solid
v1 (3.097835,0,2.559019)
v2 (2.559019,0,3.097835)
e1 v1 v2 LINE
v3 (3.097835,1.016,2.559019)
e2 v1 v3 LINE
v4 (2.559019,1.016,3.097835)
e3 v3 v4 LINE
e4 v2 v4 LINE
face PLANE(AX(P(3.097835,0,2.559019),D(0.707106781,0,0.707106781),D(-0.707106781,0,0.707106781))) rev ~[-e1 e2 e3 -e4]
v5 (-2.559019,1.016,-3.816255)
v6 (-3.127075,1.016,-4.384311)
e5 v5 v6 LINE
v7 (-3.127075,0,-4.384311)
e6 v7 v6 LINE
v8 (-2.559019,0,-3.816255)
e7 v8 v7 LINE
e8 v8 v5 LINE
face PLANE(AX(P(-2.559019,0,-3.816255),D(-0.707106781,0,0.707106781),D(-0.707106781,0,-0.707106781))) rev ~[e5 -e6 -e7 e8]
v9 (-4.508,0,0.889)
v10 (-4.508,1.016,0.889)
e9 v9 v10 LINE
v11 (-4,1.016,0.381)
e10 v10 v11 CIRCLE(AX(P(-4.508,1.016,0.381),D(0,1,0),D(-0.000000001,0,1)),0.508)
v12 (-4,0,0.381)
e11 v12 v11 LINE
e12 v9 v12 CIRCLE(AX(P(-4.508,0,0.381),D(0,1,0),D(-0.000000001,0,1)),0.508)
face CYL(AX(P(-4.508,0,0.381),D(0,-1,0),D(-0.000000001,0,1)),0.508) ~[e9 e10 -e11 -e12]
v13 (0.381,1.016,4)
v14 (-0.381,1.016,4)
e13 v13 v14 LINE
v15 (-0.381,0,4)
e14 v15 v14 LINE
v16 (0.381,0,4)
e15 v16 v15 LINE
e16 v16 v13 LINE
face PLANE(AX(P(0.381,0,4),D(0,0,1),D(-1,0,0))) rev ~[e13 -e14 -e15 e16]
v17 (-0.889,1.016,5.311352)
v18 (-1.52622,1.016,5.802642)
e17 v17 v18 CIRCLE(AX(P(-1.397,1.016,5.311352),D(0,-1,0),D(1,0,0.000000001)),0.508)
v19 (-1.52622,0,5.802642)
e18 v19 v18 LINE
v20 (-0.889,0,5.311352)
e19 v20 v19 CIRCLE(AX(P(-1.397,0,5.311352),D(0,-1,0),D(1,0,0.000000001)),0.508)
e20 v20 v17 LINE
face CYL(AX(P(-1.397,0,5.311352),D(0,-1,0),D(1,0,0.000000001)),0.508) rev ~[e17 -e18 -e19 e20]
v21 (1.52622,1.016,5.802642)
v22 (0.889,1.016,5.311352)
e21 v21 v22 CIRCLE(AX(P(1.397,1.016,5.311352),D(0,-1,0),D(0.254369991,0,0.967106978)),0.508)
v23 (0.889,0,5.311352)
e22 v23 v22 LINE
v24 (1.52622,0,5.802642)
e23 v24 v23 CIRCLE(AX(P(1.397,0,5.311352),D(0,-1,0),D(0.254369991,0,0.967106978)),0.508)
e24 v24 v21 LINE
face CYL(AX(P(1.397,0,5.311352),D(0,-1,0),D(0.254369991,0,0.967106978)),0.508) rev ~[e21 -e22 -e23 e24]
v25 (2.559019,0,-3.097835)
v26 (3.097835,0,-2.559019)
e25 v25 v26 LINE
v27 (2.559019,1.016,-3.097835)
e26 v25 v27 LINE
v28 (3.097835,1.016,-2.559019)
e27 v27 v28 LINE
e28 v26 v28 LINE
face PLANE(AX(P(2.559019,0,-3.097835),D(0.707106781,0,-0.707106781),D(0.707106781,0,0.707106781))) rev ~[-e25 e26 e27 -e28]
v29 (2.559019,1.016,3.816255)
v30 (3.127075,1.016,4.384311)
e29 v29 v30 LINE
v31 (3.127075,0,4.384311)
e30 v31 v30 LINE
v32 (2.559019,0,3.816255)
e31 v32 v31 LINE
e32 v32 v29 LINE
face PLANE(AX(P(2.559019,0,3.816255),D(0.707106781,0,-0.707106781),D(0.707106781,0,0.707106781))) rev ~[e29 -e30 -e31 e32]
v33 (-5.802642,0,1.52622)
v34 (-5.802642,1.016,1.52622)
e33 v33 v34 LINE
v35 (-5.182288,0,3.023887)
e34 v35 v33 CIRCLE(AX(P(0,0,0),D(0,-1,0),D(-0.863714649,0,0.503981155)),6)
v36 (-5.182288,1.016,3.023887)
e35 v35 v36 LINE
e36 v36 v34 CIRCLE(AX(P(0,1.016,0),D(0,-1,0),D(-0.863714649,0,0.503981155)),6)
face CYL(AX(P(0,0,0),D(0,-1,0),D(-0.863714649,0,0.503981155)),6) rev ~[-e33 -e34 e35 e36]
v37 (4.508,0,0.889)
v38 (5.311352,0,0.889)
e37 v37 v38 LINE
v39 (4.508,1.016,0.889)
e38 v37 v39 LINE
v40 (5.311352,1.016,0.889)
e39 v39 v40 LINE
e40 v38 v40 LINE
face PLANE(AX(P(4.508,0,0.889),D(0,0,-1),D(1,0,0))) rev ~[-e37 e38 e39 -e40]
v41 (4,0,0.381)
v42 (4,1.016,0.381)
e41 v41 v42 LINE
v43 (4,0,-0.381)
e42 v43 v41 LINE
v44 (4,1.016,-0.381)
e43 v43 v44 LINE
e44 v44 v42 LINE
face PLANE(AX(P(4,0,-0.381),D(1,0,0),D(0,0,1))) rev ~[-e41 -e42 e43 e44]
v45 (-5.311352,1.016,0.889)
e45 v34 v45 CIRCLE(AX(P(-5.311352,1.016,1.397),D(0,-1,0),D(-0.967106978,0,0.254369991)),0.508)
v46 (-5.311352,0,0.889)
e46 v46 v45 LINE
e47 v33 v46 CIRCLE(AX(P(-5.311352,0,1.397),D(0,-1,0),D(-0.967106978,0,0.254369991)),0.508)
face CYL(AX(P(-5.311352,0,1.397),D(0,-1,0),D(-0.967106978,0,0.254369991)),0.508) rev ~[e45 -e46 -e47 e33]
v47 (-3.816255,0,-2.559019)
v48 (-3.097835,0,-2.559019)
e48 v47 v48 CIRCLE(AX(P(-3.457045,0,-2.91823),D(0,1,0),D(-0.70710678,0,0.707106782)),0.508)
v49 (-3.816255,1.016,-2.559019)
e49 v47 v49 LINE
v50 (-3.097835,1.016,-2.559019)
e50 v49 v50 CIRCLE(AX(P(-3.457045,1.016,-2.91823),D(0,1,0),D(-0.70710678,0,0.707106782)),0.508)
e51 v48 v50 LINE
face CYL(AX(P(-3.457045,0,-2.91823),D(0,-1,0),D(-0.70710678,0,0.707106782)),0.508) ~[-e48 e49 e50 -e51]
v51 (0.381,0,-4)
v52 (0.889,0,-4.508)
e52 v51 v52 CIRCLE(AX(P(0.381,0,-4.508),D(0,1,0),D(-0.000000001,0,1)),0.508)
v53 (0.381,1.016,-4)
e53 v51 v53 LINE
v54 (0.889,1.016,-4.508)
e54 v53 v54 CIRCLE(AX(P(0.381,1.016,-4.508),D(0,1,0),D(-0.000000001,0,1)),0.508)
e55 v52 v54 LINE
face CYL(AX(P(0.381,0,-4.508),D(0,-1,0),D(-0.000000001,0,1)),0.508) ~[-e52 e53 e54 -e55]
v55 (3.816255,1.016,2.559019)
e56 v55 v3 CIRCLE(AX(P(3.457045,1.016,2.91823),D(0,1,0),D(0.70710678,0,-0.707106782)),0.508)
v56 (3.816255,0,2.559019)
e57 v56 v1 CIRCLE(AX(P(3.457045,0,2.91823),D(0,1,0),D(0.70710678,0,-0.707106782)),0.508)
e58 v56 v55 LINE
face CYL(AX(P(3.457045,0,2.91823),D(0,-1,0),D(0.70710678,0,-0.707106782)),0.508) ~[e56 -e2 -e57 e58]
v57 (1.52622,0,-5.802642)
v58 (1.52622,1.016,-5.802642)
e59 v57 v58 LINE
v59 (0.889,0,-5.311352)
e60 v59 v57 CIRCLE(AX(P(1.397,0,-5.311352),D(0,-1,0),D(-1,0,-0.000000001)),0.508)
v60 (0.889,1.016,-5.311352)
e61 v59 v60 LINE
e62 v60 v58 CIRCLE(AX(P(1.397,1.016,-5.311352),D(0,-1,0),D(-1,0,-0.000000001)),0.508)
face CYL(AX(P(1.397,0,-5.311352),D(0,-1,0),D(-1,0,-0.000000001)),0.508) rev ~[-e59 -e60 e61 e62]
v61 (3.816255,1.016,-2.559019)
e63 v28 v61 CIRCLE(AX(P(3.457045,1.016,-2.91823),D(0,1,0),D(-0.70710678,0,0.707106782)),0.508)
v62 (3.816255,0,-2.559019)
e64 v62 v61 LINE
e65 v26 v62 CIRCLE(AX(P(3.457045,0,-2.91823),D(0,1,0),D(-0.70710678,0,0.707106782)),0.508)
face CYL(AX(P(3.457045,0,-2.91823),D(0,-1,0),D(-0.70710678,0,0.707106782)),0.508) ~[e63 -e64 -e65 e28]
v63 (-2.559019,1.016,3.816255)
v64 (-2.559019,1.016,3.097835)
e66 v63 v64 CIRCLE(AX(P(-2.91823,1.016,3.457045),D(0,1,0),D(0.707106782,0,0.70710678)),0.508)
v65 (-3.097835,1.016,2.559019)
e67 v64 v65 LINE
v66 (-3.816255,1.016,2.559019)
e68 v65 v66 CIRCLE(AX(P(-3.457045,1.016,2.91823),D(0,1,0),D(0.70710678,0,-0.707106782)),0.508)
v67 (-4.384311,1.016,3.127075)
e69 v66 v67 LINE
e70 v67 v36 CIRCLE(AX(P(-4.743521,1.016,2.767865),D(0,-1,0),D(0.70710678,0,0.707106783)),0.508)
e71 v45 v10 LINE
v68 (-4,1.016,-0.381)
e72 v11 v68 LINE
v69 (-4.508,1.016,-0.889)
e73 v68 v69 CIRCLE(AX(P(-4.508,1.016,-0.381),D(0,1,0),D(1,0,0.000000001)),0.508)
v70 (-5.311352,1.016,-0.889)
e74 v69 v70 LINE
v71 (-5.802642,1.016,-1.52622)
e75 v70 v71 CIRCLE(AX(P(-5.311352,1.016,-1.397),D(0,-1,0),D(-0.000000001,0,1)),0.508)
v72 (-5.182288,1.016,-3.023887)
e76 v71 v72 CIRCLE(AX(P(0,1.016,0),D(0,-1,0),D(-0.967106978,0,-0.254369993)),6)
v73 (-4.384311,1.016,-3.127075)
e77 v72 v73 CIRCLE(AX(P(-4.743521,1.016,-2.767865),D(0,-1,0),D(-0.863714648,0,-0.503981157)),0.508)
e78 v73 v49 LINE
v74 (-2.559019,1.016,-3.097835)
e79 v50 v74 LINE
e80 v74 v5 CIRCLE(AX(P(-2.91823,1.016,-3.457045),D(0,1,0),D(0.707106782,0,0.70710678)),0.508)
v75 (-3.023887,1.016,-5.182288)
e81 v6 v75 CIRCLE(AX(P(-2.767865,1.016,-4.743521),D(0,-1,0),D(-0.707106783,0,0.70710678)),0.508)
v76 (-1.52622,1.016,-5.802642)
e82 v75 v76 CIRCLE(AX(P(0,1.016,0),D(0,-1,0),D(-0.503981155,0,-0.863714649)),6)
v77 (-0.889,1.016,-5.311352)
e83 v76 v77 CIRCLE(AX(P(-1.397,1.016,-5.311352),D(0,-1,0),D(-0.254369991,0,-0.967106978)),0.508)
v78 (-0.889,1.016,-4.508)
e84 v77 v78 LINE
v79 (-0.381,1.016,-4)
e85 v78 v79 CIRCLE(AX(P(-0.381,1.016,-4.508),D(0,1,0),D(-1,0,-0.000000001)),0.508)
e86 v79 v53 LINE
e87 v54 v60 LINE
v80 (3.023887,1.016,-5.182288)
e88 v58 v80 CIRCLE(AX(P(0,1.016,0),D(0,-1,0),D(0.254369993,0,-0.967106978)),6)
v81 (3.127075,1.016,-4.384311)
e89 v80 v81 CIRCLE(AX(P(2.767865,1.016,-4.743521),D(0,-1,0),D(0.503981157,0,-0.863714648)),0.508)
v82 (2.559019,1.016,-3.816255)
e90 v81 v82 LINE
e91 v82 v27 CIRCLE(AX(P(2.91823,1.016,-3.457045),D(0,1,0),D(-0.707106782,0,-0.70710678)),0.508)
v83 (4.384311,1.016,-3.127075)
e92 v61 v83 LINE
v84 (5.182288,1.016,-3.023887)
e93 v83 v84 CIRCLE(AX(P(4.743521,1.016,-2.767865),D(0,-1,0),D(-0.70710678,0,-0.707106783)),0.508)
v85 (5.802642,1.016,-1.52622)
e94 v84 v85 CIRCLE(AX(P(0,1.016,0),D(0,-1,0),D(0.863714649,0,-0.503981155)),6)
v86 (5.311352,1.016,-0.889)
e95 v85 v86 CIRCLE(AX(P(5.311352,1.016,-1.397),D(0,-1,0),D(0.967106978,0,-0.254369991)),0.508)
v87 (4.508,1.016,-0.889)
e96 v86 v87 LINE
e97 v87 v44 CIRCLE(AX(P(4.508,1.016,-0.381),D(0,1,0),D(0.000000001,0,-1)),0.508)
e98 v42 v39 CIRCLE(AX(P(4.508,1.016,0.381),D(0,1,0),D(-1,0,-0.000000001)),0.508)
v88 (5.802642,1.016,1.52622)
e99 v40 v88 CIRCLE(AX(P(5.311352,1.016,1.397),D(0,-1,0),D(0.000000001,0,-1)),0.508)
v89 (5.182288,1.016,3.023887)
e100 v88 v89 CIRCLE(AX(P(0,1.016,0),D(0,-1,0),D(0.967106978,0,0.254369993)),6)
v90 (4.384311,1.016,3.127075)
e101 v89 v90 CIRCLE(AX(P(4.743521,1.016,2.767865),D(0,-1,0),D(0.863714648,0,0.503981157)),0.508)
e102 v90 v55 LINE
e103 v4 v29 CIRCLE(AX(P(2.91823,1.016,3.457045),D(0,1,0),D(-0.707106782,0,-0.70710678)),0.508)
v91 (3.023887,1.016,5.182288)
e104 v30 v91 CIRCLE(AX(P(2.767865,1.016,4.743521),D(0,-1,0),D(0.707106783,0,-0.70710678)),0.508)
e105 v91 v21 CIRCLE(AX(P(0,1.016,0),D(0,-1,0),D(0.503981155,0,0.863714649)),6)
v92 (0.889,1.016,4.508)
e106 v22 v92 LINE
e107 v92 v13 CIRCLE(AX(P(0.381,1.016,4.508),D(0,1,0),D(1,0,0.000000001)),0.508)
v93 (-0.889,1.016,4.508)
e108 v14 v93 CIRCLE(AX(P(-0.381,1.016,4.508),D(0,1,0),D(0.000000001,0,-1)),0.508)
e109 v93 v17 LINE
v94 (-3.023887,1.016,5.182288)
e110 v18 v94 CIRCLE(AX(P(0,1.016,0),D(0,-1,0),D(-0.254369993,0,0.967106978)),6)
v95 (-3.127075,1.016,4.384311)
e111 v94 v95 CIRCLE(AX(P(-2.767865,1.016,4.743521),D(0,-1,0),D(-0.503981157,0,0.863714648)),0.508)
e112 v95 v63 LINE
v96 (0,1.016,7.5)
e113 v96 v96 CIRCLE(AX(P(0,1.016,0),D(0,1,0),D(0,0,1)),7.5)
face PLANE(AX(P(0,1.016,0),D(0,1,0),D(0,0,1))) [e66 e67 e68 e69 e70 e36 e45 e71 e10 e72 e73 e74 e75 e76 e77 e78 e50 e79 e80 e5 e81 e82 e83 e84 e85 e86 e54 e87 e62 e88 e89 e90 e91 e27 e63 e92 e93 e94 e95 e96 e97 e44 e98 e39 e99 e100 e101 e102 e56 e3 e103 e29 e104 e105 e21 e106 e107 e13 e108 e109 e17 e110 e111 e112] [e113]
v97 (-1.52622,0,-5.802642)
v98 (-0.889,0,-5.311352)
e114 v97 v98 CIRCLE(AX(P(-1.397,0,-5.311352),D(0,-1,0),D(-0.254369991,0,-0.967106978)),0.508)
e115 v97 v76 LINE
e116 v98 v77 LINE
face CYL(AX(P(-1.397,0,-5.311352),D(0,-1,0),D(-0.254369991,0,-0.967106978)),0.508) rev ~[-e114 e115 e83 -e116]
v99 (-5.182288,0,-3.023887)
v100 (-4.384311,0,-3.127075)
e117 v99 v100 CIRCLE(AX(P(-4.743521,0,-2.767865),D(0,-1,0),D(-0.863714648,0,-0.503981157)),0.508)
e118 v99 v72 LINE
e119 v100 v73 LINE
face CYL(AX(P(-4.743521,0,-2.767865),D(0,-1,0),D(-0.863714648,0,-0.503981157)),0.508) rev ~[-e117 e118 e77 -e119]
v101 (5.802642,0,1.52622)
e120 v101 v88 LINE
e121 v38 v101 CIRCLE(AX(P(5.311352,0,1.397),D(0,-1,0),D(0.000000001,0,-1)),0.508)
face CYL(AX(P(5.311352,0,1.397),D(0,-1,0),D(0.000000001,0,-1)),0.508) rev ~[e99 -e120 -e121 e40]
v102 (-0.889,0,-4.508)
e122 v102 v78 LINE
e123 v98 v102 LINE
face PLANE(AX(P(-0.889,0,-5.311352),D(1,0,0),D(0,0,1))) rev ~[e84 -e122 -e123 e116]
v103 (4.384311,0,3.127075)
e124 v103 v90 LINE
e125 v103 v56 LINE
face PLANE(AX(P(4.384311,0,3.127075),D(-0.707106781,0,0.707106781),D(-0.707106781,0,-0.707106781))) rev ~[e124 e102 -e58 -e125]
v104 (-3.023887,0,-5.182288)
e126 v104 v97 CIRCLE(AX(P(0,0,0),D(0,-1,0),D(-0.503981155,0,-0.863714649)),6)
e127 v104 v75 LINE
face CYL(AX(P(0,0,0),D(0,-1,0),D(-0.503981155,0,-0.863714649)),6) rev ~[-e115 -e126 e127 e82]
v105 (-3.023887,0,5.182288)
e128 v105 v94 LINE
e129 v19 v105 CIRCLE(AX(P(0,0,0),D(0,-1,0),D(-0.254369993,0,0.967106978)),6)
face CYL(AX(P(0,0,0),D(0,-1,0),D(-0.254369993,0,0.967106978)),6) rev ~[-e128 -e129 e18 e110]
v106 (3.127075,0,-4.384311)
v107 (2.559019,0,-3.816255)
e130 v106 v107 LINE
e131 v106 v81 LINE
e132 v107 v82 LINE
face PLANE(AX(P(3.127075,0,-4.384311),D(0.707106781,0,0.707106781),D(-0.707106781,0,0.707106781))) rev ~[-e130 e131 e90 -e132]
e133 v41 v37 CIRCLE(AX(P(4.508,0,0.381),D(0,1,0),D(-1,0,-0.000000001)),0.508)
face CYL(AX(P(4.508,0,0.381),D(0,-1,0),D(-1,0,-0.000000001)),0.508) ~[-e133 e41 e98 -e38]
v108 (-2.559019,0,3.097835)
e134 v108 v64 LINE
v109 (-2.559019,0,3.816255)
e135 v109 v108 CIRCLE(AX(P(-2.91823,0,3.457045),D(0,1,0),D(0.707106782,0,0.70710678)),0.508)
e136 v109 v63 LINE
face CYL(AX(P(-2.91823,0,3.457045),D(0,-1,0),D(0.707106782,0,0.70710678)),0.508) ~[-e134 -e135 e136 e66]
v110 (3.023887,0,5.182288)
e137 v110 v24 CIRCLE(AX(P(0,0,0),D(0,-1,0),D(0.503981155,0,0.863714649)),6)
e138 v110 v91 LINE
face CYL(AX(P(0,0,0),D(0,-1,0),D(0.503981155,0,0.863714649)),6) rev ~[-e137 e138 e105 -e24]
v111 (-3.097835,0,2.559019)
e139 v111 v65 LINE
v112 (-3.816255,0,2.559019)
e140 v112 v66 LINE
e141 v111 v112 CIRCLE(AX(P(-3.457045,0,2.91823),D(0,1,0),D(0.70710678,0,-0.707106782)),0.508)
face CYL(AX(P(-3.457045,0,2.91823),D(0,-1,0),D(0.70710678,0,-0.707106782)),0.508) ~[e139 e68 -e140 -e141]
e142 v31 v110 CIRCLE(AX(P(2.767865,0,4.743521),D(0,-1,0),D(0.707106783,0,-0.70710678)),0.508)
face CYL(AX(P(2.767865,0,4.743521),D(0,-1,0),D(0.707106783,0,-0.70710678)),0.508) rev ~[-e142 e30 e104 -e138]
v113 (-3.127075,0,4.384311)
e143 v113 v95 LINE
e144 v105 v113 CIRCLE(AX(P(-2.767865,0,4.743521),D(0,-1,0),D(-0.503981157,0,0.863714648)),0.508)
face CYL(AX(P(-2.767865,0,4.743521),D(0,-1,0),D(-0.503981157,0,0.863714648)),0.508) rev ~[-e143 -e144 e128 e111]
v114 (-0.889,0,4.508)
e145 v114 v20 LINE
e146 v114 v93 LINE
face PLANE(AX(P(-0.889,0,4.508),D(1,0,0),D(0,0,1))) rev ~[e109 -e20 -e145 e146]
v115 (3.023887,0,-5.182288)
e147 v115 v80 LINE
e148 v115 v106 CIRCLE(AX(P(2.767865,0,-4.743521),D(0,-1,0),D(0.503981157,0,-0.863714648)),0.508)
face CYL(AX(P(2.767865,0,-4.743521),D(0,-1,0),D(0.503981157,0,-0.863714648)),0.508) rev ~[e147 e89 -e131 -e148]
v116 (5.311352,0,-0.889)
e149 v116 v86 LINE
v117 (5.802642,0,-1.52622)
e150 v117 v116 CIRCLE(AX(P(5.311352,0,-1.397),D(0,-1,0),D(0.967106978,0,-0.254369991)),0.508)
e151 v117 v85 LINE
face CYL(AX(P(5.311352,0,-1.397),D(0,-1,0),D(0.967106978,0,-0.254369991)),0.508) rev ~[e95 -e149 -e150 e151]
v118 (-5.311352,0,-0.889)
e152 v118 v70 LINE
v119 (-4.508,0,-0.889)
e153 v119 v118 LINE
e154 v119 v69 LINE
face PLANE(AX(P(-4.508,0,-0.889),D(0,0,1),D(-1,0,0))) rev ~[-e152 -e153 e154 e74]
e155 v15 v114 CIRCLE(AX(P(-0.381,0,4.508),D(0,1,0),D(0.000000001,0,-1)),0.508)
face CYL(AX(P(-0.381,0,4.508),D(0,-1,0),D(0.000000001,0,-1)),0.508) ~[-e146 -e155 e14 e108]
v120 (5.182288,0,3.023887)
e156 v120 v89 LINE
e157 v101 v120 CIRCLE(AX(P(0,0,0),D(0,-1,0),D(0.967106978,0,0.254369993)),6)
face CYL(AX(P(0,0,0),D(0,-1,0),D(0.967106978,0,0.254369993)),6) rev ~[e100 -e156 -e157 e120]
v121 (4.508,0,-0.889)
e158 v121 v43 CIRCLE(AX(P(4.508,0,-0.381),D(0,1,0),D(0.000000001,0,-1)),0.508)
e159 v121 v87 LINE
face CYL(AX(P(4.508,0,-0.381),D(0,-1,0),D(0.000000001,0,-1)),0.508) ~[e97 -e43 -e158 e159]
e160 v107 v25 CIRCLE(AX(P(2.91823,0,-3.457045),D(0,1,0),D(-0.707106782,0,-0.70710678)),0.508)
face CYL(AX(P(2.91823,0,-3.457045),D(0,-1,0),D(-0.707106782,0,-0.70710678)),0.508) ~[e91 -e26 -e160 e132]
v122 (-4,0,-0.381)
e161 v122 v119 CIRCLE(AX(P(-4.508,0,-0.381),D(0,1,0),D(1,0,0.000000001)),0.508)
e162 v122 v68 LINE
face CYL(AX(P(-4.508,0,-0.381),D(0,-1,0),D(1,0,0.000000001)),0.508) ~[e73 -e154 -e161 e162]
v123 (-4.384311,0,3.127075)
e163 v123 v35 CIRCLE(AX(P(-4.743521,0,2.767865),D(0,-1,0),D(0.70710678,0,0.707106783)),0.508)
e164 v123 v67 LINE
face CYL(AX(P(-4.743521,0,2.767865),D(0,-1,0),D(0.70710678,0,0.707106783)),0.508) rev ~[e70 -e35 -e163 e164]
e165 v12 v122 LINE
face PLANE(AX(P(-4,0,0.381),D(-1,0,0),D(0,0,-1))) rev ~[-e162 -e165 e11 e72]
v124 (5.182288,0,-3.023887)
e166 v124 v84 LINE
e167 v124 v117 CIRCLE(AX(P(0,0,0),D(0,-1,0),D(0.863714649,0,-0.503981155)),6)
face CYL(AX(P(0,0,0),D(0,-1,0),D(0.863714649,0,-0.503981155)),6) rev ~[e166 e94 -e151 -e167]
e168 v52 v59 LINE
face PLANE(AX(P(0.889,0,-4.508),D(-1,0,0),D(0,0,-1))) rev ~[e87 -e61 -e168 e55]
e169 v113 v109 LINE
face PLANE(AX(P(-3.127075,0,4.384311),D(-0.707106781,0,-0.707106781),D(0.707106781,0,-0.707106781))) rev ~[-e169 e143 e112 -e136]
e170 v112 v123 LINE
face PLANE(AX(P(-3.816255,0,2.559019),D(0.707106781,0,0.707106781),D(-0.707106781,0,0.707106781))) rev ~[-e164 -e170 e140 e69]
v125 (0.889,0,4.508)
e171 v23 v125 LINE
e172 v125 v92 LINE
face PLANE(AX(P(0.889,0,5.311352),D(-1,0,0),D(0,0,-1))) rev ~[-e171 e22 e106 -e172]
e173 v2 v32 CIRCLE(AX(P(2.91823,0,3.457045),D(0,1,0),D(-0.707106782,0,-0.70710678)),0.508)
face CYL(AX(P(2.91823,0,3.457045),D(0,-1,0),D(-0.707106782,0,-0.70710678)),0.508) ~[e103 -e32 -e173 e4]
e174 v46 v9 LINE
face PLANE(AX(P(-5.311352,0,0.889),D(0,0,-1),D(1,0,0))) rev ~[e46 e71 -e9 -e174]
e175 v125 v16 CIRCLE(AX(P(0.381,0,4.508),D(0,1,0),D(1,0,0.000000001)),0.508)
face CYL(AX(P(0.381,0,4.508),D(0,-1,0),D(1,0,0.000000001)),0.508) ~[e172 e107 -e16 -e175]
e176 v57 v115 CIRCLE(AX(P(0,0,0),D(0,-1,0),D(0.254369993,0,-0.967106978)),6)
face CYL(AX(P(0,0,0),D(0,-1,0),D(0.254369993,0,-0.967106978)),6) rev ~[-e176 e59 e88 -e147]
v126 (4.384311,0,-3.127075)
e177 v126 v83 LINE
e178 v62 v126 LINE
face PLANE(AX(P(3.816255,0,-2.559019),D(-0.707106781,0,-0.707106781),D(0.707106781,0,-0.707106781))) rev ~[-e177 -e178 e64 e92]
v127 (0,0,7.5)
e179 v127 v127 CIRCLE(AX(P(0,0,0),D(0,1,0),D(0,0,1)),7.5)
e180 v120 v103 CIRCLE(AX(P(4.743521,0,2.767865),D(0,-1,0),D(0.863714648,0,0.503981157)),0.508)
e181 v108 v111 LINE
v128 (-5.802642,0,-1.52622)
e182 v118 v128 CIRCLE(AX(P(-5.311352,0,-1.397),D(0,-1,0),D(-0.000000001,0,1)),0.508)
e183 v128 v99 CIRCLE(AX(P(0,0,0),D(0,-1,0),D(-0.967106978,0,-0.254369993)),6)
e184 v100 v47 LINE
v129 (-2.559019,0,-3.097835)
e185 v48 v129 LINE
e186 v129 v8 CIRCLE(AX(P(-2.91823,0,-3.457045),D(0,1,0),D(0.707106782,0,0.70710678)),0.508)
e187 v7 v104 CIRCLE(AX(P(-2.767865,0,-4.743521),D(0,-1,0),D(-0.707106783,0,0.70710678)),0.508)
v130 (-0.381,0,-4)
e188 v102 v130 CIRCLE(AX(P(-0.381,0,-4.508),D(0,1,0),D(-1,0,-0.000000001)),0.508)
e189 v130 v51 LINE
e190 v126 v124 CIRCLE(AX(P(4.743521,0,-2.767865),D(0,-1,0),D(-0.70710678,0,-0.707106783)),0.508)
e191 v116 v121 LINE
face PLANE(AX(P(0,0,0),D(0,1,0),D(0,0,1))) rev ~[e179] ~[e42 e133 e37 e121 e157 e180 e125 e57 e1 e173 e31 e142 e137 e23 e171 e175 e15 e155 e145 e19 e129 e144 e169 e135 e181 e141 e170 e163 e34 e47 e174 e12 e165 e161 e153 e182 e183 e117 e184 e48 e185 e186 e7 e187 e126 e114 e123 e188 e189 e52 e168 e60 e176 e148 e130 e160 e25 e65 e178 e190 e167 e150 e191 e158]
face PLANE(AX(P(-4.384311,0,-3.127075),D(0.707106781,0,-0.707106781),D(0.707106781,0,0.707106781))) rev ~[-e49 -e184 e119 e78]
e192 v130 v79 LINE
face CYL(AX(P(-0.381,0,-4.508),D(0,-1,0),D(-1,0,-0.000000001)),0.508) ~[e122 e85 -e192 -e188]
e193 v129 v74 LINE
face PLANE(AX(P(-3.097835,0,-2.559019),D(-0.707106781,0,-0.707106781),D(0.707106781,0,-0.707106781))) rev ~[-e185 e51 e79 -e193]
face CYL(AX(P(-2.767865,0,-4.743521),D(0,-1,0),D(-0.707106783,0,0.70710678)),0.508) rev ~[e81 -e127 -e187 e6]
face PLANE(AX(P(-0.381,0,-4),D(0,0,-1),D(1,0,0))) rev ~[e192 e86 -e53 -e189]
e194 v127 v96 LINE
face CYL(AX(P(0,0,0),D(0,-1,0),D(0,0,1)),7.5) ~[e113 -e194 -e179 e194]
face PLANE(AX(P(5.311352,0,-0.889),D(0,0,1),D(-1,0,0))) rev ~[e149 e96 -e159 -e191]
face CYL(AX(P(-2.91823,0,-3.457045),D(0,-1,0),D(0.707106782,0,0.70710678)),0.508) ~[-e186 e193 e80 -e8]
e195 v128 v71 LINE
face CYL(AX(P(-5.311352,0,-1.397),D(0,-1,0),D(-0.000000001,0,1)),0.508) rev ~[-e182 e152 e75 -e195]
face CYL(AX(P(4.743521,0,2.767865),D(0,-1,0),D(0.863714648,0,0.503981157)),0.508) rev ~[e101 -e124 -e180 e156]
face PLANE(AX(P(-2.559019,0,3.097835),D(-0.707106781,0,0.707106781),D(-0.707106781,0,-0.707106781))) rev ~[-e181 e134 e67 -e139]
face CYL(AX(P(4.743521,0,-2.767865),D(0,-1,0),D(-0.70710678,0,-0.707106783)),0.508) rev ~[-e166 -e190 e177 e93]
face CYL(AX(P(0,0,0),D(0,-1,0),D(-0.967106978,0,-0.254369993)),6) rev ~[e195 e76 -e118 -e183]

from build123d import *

# Parameters (mm, degrees)
SKETCH1_R           = 7.5
BOSS_EXTRUDE1_DEPTH = 1.016


with BuildPart() as part:
    # Sketch1 → Boss-Extrude1 (new body)
    with BuildSketch(Plane(origin=(0, 0, 0), x_dir=(1, 0, 0), z_dir=(0, 1, 0))):
        with Locations(Location((0, 0, 0), (0, 0, 270))):
            Circle(SKETCH1_R)
        with BuildLine():
            Line((-0.889, 5.311351523), (-0.889, 4.508))
            ThreePointArc((-0.889, 4.508), (-0.740210245, 4.148789755), (-0.381, 4))
            Line((-0.381, 4), (0.381, 4))
            ThreePointArc((0.381, 4), (0.740210245, 4.148789755), (0.889, 4.508))
            Line((0.889, 4.508), (0.889, 5.311351523))
            ThreePointArc((0.889, 5.311351523), (1.08682242, 5.713662185), (1.526219956, 5.802641868))
            ThreePointArc((1.526219956, 5.802641868), (2.296100594, 5.543277195), (3.023886933, 5.182287894))
            ThreePointArc((3.023886933, 5.182287894), (3.271669773, 4.80866878), (3.127074751, 4.384310608))
            Line((3.127074751, 4.384310608), (2.559019441, 3.816255298))
            ThreePointArc((2.559019441, 3.816255298), (2.410229686, 3.457045053), (2.559019441, 3.097834808))
            Line((2.559019441, 3.097834808), (3.097834808, 2.559019441))
            ThreePointArc((3.097834808, 2.559019441), (3.457045053, 2.410229686), (3.816255298, 2.559019441))
            Line((3.816255298, 2.559019441), (4.384310608, 3.127074751))
            ThreePointArc((4.384310608, 3.127074751), (4.80866878, 3.271669773), (5.182287894, 3.023886933))
            ThreePointArc((5.182287894, 3.023886933), (5.543277195, 2.296100594), (5.802641868, 1.526219956))
            ThreePointArc((5.802641868, 1.526219956), (5.713662185, 1.08682242), (5.311351523, 0.889))
            Line((5.311351523, 0.889), (4.508, 0.889))
            ThreePointArc((4.508, 0.889), (4.148789755, 0.740210245), (4, 0.381))
            Line((4, 0.381), (4, -0.381))
            ThreePointArc((4, -0.381), (4.148789755, -0.740210245), (4.508, -0.889))
            Line((4.508, -0.889), (5.311351523, -0.889))
            ThreePointArc((5.311351523, -0.889), (5.713662185, -1.08682242), (5.802641868, -1.526219956))
            ThreePointArc((5.802641868, -1.526219956), (5.543277195, -2.296100594), (5.182287894, -3.023886933))
            ThreePointArc((5.182287894, -3.023886933), (4.80866878, -3.271669773), (4.384310608, -3.127074751))
            Line((4.384310608, -3.127074751), (3.816255298, -2.559019441))
            ThreePointArc((3.816255298, -2.559019441), (3.457045053, -2.410229686), (3.097834808, -2.559019441))
            Line((3.097834808, -2.559019441), (2.559019441, -3.097834808))
            ThreePointArc((2.559019441, -3.097834808), (2.410229686, -3.457045053), (2.559019441, -3.816255298))
            Line((2.559019441, -3.816255298), (3.127074751, -4.384310608))
            ThreePointArc((3.127074751, -4.384310608), (3.271669773, -4.80866878), (3.023886933, -5.182287894))
            ThreePointArc((3.023886933, -5.182287894), (2.296100594, -5.543277195), (1.526219956, -5.802641868))
            ThreePointArc((1.526219956, -5.802641868), (1.08682242, -5.713662185), (0.889, -5.311351523))
            Line((0.889, -5.311351523), (0.889, -4.508))
            ThreePointArc((0.889, -4.508), (0.740210245, -4.148789755), (0.381, -4))
            Line((0.381, -4), (-0.381, -4))
            ThreePointArc((-0.381, -4), (-0.740210245, -4.148789755), (-0.889, -4.508))
            Line((-0.889, -4.508), (-0.889, -5.311351523))
            ThreePointArc((-0.889, -5.311351523), (-1.08682242, -5.713662185), (-1.526219956, -5.802641868))
            ThreePointArc((-1.526219956, -5.802641868), (-2.296100594, -5.543277195), (-3.023886933, -5.182287894))
            ThreePointArc((-3.023886933, -5.182287894), (-3.271669773, -4.80866878), (-3.127074751, -4.384310608))
            Line((-3.127074751, -4.384310608), (-2.559019441, -3.816255298))
            ThreePointArc((-2.559019441, -3.816255298), (-2.410229686, -3.457045053), (-2.559019441, -3.097834808))
            Line((-2.559019441, -3.097834808), (-3.097834808, -2.559019441))
            ThreePointArc((-3.097834808, -2.559019441), (-3.457045053, -2.410229686), (-3.816255298, -2.559019441))
            Line((-3.816255298, -2.559019441), (-4.384310608, -3.127074751))
            ThreePointArc((-4.384310608, -3.127074751), (-4.80866878, -3.271669773), (-5.182287894, -3.023886933))
            ThreePointArc((-5.182287894, -3.023886933), (-5.543277195, -2.296100594), (-5.802641868, -1.526219956))
            ThreePointArc((-5.802641868, -1.526219956), (-5.713662185, -1.08682242), (-5.311351523, -0.889))
            Line((-5.311351523, -0.889), (-4.508, -0.889))
            ThreePointArc((-4.508, -0.889), (-4.148789755, -0.740210245), (-4, -0.381))
            Line((-4, -0.381), (-4, 0.381))
            ThreePointArc((-4, 0.381), (-4.148789755, 0.740210245), (-4.508, 0.889))
            Line((-4.508, 0.889), (-5.311351523, 0.889))
            ThreePointArc((-5.311351523, 0.889), (-5.713662185, 1.08682242), (-5.802641868, 1.526219956))
            ThreePointArc((-5.802641868, 1.526219956), (-5.543277195, 2.296100594), (-5.182287894, 3.023886933))
            ThreePointArc((-5.182287894, 3.023886933), (-4.80866878, 3.271669773), (-4.384310608, 3.127074751))
            Line((-4.384310608, 3.127074751), (-3.816255298, 2.559019441))
            ThreePointArc((-3.816255298, 2.559019441), (-3.457045053, 2.410229686), (-3.097834808, 2.559019441))
            Line((-3.097834808, 2.559019441), (-2.559019441, 3.097834808))
            ThreePointArc((-2.559019441, 3.097834808), (-2.410229686, 3.457045053), (-2.559019441, 3.816255298))
            Line((-2.559019441, 3.816255298), (-3.127074751, 4.384310608))
            ThreePointArc((-3.127074751, 4.384310608), (-3.271669773, 4.80866878), (-3.023886933, 5.182287894))
            ThreePointArc((-3.023886933, 5.182287894), (-2.296100594, 5.543277195), (-1.526219956, 5.802641868))
            ThreePointArc((-1.526219956, 5.802641868), (-1.08682242, 5.713662185), (-0.889, 5.311351523))
        make_face(mode=Mode.SUBTRACT)
    extrude(amount=BOSS_EXTRUDE1_DEPTH)


solid = part.part
